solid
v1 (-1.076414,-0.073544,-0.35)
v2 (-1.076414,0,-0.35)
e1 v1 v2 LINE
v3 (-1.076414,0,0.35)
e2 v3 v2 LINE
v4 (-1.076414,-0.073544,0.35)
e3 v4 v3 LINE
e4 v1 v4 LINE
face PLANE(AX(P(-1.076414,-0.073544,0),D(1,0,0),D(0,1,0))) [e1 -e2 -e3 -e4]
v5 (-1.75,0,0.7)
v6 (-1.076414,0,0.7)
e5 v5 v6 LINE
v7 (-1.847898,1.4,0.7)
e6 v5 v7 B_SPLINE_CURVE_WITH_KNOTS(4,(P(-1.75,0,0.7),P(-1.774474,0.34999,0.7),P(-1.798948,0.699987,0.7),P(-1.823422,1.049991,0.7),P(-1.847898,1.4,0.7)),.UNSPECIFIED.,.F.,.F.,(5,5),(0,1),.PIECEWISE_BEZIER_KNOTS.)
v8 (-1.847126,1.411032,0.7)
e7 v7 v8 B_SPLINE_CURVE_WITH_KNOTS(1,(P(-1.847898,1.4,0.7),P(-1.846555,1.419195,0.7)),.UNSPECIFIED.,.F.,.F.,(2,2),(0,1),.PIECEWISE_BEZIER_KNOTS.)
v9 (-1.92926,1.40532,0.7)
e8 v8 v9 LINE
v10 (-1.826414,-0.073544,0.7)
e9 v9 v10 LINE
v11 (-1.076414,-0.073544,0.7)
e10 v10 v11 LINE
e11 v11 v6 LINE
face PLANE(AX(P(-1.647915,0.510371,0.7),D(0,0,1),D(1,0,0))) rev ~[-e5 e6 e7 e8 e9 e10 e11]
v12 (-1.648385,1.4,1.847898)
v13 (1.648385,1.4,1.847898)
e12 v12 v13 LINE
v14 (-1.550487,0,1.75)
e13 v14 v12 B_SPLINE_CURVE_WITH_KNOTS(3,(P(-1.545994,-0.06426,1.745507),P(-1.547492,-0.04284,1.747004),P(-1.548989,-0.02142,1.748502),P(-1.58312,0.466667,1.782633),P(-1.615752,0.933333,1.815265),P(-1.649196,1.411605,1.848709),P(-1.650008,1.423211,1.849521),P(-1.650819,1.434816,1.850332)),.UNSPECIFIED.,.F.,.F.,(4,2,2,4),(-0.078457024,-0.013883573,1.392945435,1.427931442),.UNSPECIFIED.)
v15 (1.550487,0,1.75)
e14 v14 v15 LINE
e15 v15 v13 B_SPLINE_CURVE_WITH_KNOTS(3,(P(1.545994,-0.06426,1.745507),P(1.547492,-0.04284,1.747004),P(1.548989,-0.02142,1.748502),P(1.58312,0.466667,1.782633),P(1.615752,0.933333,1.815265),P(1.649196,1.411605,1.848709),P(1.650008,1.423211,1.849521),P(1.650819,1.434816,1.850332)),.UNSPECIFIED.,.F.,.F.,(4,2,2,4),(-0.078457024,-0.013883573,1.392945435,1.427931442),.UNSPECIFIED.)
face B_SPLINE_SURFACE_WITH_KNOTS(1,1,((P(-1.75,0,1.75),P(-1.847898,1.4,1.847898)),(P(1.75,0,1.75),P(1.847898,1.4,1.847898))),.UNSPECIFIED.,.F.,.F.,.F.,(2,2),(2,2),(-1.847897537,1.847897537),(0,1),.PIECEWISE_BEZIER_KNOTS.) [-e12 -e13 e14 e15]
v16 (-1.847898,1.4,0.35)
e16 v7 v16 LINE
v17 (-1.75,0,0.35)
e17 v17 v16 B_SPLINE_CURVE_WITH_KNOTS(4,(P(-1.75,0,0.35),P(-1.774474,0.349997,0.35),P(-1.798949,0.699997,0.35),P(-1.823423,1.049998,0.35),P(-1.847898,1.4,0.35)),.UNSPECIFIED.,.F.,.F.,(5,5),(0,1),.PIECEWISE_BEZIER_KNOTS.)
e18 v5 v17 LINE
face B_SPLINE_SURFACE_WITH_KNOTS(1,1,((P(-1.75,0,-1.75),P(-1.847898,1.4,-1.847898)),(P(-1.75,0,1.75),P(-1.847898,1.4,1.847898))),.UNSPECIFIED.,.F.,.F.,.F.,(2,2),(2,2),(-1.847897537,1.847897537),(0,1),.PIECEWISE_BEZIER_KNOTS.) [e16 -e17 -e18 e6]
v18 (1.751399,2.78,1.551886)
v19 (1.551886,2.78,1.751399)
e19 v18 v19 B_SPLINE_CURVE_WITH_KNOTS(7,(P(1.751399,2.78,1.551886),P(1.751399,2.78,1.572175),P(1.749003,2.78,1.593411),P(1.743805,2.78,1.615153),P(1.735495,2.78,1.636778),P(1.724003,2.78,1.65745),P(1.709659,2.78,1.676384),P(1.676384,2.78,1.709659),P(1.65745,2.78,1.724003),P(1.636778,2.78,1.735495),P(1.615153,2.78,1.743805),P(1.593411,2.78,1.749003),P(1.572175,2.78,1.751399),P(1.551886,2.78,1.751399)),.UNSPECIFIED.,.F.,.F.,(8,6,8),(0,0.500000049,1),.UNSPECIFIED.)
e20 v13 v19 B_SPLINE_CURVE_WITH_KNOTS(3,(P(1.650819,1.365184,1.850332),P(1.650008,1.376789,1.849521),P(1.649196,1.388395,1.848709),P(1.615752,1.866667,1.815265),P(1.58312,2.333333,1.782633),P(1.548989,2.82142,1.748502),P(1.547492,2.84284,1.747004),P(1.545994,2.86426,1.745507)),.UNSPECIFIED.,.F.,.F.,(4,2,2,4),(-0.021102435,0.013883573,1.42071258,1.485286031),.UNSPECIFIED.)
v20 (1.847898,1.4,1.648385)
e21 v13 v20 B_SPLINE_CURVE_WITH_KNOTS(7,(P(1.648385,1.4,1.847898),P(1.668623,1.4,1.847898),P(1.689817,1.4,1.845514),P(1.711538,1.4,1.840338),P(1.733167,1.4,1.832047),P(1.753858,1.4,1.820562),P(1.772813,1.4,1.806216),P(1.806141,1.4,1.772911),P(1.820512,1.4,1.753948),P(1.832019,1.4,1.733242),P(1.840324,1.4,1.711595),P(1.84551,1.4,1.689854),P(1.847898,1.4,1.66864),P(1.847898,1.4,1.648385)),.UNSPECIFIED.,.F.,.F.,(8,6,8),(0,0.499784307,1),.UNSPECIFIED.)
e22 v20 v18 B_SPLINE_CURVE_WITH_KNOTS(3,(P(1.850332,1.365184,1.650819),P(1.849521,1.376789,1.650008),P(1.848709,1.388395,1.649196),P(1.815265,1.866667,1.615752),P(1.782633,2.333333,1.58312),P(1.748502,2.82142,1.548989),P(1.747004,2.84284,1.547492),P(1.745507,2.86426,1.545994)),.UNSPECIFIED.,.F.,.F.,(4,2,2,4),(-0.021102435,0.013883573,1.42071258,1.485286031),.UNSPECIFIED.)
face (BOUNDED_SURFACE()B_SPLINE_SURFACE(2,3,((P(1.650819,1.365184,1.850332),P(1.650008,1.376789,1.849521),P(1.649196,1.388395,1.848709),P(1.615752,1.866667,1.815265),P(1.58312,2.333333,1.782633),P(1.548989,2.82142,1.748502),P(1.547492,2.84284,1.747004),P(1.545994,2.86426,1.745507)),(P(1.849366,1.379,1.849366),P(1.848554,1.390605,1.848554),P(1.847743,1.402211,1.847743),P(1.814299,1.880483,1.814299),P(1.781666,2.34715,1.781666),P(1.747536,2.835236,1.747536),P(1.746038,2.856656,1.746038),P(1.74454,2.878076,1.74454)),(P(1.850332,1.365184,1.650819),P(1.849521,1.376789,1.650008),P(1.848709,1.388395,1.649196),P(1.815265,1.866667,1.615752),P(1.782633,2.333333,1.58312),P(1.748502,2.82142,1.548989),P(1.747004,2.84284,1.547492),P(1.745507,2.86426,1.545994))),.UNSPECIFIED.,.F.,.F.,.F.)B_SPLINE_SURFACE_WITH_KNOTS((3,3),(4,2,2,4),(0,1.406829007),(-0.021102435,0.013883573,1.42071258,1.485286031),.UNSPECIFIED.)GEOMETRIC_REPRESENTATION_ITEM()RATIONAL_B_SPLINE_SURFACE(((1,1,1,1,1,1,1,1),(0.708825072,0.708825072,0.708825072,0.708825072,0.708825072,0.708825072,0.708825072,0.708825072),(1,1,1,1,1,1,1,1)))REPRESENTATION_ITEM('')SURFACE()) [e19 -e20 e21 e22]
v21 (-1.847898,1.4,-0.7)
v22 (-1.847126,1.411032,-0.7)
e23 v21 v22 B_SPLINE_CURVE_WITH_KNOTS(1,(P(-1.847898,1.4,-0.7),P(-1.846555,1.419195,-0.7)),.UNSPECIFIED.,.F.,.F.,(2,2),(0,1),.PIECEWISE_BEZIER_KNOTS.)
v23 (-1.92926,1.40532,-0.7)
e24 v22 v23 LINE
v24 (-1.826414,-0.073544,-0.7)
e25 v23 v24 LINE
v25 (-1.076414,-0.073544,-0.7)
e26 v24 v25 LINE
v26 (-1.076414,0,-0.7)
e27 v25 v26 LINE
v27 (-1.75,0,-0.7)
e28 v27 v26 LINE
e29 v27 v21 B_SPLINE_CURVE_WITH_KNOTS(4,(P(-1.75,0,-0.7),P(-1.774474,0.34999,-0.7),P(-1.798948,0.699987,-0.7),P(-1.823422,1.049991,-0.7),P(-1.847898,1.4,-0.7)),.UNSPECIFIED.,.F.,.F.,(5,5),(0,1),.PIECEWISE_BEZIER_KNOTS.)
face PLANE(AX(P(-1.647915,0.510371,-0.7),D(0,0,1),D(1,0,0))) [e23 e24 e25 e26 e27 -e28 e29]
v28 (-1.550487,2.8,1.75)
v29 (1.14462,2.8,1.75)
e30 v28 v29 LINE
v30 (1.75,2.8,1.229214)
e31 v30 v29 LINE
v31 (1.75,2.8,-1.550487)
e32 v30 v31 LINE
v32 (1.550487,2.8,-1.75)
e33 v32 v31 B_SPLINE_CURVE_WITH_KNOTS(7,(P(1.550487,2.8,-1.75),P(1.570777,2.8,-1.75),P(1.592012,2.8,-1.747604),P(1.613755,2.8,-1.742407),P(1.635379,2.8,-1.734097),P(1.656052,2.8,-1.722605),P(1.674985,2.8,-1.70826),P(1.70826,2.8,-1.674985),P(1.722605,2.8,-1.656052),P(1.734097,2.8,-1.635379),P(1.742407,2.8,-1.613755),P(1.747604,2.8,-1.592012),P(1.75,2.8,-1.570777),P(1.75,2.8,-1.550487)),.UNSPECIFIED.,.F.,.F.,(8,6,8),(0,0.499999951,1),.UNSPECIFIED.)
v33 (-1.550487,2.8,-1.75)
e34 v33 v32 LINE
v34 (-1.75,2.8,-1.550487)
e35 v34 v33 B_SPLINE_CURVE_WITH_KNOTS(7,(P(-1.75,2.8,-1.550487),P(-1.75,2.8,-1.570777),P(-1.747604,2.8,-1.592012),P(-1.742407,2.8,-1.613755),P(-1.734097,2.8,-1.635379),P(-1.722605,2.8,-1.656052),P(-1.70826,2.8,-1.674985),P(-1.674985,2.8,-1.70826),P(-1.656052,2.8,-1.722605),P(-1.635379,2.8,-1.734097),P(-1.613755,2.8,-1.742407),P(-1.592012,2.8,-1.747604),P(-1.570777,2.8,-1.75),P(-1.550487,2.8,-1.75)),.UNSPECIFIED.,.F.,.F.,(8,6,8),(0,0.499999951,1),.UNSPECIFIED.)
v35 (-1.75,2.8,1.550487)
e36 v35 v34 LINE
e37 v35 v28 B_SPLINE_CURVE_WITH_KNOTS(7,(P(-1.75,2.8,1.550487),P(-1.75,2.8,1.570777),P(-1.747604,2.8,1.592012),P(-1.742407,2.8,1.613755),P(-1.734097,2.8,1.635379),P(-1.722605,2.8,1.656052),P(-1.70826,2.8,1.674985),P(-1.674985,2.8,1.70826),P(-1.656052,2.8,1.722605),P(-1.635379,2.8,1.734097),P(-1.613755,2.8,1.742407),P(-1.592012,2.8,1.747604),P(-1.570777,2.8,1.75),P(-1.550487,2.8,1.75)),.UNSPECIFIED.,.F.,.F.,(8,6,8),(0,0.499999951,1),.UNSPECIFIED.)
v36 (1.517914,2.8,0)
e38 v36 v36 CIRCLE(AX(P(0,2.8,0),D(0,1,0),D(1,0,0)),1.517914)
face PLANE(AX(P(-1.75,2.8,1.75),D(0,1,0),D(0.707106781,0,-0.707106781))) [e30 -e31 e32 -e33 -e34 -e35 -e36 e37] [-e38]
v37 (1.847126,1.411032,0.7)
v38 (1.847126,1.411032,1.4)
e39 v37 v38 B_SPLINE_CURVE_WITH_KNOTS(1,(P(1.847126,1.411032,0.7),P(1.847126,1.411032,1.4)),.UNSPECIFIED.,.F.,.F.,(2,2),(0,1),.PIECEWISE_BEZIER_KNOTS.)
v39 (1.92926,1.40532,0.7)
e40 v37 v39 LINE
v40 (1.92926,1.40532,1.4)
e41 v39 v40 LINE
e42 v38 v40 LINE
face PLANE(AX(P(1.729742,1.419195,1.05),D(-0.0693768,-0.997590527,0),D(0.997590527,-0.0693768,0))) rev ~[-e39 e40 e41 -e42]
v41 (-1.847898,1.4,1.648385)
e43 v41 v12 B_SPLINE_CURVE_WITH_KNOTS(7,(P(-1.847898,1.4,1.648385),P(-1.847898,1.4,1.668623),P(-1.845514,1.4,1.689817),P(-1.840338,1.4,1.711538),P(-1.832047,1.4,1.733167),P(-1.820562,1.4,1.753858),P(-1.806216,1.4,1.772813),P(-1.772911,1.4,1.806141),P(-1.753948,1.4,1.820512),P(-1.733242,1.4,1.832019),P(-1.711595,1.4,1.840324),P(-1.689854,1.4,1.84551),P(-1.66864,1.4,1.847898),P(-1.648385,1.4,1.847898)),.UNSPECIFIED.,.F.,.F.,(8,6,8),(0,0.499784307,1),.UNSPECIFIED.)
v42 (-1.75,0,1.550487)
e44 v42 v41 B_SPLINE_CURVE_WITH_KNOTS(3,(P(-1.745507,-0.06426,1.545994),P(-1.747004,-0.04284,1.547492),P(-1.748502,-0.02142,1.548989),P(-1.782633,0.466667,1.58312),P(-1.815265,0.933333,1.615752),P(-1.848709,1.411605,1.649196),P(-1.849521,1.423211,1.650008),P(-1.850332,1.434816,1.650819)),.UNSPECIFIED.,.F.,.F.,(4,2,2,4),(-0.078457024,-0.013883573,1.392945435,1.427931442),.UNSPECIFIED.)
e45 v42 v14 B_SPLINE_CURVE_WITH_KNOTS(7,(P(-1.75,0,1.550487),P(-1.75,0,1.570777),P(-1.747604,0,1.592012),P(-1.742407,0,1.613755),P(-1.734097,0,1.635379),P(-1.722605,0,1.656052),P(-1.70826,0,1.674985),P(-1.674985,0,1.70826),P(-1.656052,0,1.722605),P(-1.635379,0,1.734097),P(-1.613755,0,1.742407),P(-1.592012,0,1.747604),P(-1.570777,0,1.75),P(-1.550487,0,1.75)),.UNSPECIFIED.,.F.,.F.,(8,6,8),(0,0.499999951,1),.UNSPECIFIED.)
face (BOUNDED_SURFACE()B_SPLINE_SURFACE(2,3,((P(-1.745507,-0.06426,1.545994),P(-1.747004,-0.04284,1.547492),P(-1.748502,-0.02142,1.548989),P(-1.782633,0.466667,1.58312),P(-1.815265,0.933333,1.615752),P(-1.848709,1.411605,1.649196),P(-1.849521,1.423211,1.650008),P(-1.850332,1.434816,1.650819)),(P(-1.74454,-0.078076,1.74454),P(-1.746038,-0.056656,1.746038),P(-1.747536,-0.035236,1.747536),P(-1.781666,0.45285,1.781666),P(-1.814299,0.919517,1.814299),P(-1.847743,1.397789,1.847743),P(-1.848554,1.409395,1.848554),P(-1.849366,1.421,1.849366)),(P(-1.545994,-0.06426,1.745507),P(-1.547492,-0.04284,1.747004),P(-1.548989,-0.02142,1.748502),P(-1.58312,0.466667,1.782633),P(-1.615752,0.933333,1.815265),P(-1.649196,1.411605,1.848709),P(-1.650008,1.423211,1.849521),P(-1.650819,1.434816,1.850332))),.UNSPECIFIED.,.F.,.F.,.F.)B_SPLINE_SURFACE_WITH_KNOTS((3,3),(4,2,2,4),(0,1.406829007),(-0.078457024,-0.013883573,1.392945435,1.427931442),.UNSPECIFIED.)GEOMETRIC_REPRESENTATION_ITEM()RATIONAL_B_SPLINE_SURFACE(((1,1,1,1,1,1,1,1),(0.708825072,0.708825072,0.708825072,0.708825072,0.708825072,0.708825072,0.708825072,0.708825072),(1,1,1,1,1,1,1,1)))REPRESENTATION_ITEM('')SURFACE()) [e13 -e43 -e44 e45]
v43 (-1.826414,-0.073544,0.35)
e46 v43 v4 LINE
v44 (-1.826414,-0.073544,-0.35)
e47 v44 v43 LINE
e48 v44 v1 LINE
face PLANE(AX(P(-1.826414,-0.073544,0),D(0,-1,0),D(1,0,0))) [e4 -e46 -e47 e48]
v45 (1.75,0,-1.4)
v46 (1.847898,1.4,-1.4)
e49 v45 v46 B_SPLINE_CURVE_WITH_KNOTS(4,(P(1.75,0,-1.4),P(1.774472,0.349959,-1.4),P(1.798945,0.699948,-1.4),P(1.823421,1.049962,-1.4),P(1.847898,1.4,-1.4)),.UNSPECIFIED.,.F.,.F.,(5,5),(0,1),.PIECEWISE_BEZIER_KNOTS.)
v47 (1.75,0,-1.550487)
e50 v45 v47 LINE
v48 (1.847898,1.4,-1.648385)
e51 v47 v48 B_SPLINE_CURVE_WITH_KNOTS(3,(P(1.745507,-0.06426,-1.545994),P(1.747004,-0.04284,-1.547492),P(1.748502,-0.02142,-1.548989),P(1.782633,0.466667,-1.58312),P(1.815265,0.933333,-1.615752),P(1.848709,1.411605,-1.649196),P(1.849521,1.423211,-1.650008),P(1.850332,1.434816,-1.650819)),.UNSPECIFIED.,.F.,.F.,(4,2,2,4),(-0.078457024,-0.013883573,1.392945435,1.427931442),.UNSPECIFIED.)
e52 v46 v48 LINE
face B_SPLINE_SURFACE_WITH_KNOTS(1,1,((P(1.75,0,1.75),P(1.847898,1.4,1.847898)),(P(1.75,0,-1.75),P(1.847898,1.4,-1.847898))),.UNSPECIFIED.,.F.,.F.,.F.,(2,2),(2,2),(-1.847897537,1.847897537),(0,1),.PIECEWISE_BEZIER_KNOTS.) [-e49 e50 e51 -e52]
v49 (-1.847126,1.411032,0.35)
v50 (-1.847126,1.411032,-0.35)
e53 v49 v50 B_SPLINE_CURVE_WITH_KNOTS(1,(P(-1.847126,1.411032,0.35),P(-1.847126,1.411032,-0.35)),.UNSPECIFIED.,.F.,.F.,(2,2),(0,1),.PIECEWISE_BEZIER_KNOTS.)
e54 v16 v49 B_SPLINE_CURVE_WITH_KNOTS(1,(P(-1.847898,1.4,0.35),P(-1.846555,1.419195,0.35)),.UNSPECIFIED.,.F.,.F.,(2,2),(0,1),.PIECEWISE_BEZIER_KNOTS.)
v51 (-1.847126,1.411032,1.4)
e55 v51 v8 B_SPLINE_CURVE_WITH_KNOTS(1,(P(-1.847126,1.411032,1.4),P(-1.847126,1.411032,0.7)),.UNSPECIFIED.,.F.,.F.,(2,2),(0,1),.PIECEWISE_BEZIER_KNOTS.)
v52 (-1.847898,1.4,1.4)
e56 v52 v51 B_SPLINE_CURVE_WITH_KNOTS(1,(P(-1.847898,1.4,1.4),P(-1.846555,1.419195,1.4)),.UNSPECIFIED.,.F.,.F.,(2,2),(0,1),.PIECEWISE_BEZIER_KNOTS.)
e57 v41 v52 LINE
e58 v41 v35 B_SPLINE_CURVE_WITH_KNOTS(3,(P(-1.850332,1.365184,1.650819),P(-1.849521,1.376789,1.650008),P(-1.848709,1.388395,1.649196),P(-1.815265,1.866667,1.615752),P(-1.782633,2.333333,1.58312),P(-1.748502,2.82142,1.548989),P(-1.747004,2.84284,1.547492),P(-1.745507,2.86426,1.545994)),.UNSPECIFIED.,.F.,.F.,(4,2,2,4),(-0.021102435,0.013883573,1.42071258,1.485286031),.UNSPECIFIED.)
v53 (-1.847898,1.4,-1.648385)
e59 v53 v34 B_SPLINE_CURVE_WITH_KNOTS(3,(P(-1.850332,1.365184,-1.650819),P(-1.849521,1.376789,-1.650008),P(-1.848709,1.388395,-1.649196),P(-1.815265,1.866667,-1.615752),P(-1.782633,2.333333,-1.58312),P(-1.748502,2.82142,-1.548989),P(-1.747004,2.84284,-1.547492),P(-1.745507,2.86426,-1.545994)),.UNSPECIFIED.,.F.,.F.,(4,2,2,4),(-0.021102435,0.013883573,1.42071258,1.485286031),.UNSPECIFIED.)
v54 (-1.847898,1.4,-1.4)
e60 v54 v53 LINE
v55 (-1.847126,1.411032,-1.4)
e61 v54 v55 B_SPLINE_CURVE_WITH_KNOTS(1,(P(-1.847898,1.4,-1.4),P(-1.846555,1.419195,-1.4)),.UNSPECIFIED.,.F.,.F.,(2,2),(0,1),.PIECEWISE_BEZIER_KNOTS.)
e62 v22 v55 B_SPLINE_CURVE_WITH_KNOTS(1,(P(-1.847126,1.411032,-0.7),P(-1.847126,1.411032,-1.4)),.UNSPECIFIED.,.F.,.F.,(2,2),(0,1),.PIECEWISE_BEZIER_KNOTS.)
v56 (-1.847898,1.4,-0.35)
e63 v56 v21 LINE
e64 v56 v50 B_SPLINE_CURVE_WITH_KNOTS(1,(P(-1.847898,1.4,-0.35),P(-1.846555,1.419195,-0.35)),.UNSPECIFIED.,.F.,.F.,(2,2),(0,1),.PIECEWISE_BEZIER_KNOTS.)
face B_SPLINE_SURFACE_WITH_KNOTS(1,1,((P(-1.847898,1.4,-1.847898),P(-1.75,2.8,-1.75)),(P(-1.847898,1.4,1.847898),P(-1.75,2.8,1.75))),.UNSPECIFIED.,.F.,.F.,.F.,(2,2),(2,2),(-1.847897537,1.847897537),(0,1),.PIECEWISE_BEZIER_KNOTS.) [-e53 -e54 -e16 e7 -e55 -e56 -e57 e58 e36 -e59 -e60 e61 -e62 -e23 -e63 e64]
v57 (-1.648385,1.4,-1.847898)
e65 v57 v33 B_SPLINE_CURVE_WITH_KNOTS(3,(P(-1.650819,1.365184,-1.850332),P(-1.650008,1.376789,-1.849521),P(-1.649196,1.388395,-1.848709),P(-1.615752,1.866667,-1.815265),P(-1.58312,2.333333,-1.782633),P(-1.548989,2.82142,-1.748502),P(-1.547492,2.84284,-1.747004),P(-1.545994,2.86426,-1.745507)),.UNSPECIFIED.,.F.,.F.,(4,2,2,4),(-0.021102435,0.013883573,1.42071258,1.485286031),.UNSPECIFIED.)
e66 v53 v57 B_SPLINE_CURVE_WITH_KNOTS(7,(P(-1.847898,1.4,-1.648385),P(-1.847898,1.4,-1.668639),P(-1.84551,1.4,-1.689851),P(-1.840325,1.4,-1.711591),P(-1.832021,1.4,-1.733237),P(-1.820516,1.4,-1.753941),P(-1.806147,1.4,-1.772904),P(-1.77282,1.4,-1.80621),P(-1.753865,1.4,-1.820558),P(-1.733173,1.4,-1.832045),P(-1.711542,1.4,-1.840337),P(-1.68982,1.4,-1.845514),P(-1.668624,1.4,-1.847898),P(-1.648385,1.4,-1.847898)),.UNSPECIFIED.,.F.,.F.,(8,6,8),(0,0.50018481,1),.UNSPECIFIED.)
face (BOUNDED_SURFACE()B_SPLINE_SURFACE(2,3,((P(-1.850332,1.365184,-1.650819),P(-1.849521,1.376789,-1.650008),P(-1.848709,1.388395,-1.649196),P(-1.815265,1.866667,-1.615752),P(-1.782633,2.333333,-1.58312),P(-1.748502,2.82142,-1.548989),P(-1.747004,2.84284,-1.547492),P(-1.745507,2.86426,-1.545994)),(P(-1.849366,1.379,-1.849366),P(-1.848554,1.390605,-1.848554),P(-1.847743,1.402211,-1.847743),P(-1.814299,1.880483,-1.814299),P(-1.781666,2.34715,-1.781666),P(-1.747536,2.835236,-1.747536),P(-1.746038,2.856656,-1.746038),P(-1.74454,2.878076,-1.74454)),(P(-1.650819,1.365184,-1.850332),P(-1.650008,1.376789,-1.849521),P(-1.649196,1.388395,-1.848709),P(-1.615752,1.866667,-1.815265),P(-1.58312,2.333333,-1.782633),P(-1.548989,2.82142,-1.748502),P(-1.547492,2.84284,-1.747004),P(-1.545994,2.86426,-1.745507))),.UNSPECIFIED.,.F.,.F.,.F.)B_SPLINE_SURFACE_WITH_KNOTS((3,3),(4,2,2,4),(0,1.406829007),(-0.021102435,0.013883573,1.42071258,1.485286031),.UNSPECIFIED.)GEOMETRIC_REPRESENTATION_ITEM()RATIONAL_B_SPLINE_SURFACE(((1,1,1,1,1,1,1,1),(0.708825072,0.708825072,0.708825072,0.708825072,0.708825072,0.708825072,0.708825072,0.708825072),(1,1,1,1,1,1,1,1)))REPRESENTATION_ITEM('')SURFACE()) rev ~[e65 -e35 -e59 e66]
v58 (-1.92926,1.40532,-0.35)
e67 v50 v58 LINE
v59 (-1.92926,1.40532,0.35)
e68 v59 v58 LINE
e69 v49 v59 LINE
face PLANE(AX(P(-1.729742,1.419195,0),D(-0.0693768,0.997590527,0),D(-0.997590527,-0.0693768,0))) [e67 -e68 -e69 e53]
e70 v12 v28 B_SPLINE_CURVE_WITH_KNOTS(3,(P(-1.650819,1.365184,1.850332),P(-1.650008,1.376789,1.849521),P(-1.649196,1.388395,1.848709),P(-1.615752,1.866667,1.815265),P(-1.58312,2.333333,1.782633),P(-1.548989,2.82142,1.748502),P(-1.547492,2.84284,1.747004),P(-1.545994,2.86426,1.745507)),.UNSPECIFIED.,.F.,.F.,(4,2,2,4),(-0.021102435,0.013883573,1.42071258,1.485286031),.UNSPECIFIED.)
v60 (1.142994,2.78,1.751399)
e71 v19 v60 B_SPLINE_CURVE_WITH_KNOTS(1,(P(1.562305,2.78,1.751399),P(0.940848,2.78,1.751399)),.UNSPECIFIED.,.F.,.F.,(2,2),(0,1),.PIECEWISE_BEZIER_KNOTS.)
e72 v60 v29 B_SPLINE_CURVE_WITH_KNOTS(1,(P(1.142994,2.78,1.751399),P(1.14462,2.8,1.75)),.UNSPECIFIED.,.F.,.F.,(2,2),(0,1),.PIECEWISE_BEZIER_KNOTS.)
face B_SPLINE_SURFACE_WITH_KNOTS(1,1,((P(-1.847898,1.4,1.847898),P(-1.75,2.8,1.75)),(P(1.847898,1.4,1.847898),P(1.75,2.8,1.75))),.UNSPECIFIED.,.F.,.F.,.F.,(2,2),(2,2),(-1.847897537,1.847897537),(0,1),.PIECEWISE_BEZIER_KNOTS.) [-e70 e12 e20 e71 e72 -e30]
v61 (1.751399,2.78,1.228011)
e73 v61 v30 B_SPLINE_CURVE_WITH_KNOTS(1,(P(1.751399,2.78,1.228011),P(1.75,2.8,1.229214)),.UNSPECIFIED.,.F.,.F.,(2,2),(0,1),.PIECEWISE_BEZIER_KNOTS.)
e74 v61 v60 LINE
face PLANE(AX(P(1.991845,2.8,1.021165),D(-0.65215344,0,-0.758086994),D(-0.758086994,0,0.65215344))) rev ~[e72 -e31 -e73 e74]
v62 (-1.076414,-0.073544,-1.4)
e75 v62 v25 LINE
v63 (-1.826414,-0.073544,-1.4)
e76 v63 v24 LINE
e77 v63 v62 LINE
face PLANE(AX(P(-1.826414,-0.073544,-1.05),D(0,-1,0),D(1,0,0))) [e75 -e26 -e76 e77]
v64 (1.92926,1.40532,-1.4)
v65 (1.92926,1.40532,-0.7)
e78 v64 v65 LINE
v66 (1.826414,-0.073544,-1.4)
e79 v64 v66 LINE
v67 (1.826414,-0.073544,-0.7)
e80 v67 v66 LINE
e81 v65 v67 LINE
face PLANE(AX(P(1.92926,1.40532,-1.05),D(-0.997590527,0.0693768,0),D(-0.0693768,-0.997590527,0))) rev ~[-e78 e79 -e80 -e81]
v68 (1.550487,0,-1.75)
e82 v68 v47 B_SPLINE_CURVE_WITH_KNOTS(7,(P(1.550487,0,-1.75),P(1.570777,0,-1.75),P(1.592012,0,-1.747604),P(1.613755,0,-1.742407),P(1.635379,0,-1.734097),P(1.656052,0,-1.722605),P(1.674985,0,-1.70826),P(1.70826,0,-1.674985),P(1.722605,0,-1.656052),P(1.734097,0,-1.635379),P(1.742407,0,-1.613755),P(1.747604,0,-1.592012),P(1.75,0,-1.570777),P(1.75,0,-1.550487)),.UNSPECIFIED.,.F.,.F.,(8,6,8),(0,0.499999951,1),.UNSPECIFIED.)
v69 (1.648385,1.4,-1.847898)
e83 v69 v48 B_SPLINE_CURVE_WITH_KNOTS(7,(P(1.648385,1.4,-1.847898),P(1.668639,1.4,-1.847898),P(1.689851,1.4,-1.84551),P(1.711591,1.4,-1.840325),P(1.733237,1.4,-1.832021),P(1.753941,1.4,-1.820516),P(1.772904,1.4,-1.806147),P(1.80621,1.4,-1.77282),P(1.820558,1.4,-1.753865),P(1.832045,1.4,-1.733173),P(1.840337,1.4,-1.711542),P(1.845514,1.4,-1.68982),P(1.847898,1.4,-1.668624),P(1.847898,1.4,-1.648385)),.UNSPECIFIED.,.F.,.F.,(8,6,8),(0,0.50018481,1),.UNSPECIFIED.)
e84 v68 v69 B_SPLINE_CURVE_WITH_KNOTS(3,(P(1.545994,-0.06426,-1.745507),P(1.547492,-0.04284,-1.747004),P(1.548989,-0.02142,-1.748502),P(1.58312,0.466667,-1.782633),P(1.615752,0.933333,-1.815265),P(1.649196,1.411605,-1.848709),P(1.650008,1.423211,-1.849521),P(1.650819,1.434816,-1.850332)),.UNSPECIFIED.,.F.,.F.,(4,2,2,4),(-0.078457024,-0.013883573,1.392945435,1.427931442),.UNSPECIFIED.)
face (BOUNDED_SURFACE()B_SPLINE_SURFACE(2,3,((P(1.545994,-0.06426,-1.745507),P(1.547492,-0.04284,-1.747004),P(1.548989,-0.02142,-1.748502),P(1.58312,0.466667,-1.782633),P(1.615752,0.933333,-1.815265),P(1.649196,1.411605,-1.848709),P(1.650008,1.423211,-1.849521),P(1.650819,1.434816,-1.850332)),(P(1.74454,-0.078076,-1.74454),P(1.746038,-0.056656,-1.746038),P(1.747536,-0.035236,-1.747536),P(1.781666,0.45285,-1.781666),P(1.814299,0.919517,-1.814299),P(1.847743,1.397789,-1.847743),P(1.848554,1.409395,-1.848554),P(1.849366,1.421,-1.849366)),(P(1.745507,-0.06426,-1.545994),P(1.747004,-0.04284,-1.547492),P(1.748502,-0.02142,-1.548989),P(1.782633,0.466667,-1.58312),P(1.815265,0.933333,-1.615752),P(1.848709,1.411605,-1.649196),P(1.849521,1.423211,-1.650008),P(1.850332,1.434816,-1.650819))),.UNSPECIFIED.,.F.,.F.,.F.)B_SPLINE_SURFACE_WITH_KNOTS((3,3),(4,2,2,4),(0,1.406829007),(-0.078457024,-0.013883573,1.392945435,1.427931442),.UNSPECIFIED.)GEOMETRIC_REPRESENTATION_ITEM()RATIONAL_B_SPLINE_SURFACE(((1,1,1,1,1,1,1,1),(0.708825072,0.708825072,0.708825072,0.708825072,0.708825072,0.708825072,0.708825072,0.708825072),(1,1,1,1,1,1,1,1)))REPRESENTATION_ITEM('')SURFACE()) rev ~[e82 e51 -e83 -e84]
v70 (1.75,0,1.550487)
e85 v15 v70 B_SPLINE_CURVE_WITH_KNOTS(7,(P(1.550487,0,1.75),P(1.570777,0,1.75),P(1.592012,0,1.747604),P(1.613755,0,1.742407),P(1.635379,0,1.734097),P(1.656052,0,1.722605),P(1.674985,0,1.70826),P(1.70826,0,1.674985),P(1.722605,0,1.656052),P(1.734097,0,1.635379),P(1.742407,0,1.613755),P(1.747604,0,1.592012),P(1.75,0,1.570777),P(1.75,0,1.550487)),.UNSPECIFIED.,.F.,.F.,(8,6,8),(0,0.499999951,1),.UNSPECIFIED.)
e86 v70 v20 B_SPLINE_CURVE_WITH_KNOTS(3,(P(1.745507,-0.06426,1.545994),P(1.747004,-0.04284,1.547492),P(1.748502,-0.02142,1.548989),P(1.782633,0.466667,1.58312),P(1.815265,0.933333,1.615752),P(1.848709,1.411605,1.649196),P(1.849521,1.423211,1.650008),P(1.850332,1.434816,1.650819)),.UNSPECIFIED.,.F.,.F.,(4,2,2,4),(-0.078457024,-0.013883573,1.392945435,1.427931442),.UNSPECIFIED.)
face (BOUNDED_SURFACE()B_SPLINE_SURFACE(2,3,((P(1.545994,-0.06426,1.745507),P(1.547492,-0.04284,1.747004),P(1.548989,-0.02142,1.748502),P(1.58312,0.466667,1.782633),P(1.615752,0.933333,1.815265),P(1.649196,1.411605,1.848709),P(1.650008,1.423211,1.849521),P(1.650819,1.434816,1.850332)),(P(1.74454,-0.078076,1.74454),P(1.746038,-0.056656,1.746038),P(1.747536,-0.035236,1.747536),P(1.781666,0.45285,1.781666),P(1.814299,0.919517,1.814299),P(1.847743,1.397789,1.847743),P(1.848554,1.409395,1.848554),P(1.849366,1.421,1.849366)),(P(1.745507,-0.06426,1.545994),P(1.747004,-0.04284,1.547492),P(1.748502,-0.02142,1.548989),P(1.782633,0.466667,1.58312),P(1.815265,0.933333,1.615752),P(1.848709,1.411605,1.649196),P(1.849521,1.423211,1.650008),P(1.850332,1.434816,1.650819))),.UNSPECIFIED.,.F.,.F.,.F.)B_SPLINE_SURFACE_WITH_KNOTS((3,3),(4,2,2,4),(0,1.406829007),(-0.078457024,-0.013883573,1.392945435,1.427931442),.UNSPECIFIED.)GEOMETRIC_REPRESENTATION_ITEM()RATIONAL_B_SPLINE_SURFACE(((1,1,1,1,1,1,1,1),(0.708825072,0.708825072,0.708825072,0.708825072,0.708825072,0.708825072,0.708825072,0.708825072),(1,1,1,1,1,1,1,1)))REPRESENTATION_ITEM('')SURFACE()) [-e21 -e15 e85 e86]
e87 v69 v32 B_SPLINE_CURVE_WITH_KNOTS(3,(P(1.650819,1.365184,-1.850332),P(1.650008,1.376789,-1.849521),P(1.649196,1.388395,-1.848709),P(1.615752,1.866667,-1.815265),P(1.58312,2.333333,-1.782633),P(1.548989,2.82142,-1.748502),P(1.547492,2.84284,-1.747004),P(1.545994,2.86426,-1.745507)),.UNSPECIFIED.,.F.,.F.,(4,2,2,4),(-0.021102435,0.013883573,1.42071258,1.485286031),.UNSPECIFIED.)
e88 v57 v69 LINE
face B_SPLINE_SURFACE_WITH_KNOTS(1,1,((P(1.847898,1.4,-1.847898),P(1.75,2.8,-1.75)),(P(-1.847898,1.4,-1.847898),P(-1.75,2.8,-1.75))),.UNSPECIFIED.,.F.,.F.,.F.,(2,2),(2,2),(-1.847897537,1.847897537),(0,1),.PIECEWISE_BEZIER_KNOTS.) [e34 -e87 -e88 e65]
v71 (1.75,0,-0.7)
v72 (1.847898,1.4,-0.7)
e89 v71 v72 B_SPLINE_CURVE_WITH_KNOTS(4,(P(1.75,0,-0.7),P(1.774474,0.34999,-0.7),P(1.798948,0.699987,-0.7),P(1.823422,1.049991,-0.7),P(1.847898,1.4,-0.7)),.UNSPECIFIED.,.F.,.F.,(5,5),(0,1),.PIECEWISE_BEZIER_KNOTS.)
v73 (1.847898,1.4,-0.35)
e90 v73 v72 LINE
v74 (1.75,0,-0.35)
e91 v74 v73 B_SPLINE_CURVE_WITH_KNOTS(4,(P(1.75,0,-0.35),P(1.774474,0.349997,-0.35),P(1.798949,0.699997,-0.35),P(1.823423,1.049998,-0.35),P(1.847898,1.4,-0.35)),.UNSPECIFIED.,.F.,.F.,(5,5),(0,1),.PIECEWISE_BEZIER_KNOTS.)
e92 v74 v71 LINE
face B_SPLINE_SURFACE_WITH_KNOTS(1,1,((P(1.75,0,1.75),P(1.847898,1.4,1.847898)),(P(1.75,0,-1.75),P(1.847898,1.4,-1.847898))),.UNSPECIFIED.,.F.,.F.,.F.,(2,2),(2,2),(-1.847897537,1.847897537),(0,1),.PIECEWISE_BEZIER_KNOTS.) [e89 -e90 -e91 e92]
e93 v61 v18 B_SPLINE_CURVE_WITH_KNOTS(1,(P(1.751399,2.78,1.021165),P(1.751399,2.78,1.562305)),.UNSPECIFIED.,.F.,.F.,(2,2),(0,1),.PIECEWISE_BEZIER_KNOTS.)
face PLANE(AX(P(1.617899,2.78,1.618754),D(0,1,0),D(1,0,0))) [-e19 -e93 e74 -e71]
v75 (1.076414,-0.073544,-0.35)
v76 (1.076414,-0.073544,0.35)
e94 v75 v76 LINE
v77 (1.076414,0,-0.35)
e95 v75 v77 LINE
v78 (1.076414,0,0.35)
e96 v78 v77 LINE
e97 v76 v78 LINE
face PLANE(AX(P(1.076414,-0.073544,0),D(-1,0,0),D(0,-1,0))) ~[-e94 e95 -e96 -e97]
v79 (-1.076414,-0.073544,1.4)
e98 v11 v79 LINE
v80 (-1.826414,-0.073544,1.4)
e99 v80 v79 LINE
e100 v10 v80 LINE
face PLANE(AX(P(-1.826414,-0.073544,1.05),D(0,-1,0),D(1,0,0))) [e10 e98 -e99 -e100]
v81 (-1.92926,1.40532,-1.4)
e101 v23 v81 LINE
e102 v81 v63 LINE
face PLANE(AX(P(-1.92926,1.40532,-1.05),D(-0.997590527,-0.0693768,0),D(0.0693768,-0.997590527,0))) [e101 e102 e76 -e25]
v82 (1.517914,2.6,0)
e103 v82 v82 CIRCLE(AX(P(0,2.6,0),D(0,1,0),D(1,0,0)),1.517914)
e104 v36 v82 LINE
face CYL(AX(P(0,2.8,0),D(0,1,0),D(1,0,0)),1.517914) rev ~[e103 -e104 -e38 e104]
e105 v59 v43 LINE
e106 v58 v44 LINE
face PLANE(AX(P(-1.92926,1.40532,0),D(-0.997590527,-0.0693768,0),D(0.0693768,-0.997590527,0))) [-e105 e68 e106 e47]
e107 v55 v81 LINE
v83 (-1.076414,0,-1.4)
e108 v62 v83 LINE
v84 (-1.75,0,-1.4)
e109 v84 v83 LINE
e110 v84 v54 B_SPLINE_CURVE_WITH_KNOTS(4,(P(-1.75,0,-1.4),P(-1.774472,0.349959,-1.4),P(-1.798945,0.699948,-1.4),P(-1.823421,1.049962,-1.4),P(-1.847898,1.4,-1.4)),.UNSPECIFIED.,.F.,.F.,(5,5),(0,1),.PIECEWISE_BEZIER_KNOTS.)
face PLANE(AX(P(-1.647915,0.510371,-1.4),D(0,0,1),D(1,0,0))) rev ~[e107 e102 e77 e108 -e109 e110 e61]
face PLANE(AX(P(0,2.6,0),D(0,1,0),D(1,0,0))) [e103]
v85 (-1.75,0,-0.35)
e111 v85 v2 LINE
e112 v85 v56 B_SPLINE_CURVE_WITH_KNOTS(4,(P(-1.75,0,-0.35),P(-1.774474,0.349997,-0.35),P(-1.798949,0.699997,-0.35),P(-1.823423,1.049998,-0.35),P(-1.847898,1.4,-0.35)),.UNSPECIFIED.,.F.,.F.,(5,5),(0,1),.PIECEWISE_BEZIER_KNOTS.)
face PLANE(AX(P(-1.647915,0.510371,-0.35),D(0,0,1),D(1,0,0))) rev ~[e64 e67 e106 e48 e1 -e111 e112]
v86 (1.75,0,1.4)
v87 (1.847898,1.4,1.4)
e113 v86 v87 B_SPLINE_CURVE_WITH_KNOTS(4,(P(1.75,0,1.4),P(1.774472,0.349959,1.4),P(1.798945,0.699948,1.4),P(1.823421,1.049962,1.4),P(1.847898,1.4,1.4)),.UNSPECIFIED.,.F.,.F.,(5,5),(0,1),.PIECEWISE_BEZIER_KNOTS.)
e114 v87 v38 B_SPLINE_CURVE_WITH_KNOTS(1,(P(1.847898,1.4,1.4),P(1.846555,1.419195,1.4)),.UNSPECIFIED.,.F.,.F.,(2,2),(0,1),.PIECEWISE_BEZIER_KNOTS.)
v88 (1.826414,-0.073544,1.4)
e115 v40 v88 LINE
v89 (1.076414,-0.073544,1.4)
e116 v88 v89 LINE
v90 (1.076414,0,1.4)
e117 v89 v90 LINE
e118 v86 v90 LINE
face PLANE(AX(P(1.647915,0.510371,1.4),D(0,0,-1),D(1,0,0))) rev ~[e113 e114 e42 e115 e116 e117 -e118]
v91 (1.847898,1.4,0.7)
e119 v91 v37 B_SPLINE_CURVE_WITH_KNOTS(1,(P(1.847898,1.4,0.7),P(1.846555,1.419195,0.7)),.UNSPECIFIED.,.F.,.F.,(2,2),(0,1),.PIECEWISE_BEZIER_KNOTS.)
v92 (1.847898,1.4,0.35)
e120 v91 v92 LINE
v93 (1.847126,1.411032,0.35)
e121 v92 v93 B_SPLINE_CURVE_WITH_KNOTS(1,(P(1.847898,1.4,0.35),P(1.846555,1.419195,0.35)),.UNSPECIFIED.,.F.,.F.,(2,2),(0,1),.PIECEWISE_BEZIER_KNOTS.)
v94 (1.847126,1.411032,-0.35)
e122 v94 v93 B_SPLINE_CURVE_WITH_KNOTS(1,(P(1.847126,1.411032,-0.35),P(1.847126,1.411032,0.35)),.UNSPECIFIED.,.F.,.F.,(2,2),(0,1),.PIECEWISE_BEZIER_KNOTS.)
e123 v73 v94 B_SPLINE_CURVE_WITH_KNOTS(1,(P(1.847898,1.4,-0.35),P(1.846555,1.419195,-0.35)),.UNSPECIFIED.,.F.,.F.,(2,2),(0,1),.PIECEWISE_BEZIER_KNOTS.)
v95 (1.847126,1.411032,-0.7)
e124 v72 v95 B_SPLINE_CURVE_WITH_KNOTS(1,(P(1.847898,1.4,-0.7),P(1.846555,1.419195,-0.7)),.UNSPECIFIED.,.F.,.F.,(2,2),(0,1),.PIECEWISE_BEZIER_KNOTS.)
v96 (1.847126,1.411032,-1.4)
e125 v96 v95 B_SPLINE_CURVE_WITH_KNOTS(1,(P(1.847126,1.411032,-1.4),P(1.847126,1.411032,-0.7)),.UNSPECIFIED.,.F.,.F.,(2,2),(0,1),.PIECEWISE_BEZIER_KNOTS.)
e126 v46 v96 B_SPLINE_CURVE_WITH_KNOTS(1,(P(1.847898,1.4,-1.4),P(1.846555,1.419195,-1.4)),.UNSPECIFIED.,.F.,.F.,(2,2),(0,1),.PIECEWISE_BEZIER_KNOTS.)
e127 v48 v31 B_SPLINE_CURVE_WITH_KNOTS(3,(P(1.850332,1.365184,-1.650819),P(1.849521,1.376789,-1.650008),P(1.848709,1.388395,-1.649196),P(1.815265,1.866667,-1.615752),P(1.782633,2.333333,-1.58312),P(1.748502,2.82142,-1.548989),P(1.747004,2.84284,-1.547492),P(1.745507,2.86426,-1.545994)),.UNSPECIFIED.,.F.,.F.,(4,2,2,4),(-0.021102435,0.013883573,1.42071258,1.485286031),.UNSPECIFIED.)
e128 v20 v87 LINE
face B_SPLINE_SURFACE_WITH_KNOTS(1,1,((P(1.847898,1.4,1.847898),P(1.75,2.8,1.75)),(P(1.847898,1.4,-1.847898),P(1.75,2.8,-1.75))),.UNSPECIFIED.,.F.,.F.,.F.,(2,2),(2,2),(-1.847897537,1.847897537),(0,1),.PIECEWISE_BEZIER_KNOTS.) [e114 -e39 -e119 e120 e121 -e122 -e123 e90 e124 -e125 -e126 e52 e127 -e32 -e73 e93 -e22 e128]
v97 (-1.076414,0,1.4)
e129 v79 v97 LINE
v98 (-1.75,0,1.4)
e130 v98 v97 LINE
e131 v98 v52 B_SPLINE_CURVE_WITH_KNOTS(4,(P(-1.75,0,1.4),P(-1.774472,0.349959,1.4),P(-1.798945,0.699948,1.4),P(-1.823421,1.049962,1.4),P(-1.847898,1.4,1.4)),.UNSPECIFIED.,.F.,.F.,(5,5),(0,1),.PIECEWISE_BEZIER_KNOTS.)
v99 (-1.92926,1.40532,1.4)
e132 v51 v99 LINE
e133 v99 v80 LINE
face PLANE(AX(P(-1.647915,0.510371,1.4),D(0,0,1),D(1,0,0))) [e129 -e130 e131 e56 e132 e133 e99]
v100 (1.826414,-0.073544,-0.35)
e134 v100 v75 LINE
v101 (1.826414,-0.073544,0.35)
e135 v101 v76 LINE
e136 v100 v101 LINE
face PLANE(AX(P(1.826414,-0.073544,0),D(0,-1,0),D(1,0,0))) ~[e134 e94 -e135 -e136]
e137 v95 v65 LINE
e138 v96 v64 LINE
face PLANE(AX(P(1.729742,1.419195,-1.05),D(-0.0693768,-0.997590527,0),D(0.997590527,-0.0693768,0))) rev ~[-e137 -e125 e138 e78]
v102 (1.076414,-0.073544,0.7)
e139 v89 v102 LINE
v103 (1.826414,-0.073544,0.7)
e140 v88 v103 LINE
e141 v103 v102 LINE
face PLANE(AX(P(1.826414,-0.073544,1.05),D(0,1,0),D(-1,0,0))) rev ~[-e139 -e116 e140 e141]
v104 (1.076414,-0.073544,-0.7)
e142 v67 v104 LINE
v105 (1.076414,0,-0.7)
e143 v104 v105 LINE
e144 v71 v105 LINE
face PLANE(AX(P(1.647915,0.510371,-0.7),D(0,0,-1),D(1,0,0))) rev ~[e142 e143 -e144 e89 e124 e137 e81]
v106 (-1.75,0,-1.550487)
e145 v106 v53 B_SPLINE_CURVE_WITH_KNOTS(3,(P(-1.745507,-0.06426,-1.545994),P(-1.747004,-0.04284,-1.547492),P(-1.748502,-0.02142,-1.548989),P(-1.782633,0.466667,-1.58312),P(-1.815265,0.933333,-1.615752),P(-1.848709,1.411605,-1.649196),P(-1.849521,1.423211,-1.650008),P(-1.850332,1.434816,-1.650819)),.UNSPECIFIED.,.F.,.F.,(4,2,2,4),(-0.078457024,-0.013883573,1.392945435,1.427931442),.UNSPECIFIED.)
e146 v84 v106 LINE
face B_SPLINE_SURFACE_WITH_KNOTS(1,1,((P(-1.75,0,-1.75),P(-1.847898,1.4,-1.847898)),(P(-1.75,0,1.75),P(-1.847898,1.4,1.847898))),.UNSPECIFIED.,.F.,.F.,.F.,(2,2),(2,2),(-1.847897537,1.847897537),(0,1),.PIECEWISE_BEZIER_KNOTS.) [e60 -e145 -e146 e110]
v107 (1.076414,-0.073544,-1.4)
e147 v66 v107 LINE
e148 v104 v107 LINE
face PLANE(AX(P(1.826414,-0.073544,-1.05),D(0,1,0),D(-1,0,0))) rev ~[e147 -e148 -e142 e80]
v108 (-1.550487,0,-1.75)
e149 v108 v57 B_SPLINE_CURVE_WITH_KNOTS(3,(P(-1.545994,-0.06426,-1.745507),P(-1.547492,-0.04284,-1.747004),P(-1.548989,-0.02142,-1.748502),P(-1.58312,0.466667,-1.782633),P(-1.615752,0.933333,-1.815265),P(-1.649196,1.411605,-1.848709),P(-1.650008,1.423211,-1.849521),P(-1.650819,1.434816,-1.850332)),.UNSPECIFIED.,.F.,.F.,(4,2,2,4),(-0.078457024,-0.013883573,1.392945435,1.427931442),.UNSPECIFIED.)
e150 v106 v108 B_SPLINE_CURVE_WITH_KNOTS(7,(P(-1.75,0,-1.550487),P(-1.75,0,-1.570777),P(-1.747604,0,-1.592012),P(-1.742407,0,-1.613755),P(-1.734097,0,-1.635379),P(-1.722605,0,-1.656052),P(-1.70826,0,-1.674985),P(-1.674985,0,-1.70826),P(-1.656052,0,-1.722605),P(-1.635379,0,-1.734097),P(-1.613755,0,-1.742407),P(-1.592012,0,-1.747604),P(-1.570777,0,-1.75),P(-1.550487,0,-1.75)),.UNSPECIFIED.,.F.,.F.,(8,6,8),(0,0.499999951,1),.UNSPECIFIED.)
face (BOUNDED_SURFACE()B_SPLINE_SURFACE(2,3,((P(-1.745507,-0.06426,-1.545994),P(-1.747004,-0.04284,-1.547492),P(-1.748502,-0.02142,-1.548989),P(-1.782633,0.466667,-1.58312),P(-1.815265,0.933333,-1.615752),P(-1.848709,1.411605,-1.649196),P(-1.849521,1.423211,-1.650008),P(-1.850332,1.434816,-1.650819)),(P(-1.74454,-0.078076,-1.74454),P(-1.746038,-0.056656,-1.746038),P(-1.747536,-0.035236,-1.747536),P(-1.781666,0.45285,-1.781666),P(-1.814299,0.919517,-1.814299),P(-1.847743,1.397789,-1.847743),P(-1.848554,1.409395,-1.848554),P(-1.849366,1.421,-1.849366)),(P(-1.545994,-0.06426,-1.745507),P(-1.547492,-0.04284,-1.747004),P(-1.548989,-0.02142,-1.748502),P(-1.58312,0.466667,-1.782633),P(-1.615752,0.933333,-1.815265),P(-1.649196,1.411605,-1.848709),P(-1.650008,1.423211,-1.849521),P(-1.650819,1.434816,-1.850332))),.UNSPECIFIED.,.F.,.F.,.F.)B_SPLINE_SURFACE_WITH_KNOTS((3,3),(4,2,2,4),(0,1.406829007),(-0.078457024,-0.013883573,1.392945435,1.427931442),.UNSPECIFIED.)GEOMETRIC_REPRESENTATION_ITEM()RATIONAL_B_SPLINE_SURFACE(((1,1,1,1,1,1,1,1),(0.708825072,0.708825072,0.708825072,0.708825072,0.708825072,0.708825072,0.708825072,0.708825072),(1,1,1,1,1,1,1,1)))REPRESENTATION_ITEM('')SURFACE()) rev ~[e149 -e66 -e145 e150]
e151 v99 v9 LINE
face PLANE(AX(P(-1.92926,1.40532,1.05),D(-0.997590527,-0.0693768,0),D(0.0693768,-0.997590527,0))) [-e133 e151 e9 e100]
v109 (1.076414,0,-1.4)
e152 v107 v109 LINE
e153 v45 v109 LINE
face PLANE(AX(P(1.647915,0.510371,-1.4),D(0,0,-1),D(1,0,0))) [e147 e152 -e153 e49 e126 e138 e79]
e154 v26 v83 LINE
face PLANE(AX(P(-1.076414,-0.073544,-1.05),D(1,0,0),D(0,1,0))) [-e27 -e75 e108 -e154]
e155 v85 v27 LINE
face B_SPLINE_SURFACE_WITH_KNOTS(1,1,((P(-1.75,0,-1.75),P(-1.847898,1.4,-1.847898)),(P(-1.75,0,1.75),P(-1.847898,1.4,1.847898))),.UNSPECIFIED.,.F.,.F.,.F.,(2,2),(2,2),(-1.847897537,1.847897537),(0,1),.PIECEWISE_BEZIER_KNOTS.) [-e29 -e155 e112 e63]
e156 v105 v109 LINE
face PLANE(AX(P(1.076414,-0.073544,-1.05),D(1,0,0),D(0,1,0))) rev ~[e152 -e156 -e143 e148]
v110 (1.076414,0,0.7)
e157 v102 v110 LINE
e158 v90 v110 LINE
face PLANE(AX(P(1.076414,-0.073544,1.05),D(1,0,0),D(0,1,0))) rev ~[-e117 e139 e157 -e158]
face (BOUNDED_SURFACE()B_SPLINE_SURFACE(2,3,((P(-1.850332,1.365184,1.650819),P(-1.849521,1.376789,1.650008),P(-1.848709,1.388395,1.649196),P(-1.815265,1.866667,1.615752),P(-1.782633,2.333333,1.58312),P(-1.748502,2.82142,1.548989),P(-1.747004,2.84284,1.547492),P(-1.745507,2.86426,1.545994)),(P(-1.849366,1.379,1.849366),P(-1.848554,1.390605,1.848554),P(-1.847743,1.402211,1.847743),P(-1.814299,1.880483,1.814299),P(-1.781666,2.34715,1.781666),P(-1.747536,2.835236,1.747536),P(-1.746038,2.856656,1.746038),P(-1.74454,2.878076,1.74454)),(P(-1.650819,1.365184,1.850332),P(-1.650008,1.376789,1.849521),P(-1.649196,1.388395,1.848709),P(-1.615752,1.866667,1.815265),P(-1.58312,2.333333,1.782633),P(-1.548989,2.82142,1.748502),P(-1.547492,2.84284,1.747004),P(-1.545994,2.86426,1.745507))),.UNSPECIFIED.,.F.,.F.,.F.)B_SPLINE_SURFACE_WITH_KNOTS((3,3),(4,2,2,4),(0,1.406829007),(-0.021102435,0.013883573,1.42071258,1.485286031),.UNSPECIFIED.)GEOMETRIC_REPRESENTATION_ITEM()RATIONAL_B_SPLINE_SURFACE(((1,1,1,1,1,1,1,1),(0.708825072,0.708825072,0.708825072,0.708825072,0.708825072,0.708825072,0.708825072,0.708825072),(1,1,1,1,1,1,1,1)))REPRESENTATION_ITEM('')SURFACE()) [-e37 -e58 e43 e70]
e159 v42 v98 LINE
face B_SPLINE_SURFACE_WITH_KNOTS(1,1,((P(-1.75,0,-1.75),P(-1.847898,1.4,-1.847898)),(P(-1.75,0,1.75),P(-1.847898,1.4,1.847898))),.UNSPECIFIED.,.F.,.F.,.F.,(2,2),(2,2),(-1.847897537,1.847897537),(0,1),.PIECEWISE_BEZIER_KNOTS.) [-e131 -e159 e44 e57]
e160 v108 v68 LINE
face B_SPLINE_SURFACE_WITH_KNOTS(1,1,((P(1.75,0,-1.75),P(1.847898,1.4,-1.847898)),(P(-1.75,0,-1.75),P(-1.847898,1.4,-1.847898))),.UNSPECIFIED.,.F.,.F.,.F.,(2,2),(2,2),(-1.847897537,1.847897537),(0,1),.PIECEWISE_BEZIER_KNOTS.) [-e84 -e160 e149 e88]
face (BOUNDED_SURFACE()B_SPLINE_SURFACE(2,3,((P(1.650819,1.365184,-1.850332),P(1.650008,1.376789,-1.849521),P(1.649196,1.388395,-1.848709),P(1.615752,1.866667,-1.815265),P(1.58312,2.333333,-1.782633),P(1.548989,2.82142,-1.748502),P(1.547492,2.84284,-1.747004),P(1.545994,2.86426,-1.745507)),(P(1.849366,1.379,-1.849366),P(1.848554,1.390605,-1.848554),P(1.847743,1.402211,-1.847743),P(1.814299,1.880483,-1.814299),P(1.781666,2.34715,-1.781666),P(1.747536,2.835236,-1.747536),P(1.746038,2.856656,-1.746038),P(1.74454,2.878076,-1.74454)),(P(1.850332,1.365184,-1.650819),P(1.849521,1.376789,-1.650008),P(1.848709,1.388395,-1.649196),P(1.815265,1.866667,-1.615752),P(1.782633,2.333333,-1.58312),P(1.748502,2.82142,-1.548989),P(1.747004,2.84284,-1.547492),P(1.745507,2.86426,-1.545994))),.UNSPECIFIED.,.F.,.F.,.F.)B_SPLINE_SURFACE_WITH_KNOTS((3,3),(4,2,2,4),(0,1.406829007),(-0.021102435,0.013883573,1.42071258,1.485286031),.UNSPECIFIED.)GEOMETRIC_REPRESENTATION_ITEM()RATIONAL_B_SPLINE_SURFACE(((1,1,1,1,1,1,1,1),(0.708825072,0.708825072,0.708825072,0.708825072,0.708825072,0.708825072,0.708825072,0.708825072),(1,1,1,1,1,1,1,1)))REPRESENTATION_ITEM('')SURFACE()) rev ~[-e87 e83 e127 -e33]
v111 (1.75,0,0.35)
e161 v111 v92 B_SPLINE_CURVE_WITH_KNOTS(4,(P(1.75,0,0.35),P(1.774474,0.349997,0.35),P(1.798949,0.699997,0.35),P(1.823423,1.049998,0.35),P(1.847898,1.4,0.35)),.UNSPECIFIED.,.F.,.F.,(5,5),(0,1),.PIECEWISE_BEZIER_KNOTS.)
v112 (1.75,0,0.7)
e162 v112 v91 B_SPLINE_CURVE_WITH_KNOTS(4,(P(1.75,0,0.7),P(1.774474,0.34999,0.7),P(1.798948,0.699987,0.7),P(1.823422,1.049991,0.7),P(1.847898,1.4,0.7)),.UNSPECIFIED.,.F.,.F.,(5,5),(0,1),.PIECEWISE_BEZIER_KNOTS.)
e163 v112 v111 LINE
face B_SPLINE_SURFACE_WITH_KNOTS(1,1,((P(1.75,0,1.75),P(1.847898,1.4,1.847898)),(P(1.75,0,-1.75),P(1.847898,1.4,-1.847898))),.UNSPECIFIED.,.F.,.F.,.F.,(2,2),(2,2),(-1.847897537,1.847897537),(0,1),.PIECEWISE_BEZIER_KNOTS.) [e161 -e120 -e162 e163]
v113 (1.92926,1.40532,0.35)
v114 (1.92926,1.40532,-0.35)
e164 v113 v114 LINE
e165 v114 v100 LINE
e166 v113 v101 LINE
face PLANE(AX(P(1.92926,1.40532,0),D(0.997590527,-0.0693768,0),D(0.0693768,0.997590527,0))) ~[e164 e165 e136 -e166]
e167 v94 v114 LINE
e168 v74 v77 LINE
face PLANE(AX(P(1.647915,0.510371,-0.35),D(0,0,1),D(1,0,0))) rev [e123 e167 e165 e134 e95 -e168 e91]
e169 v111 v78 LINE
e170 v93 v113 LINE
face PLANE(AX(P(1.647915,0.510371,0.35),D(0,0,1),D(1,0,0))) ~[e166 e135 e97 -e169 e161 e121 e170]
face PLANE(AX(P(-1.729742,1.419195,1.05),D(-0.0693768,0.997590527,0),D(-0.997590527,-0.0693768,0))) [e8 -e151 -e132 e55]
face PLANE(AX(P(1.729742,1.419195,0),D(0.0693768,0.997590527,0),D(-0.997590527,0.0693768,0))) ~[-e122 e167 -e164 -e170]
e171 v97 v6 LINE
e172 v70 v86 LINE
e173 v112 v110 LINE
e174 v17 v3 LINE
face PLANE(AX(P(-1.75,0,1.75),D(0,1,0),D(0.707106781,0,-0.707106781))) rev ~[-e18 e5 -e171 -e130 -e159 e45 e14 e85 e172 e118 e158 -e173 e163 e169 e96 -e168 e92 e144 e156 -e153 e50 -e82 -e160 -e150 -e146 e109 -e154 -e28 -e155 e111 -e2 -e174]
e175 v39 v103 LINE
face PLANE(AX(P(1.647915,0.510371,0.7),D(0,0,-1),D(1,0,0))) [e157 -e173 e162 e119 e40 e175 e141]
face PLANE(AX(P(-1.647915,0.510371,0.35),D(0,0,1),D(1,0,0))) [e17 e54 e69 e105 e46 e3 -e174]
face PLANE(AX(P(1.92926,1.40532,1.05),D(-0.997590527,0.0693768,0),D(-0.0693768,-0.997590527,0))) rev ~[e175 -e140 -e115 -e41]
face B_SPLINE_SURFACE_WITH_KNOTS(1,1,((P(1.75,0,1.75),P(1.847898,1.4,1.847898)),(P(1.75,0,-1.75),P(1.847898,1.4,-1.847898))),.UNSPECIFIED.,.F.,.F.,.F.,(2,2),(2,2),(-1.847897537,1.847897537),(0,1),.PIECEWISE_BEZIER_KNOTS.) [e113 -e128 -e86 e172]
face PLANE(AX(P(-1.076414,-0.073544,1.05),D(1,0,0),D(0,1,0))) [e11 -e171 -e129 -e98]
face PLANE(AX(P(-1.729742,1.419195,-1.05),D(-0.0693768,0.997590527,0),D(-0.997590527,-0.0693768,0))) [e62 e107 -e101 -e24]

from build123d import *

# Parameters (mm, degrees)
SKETCH1_W            = 3.5
SKETCH1_H            = 3.5
BOSS_EXTRUDE1_DEPTH  = 1.4
BOSS_EXTRUDE1_TAPER  = -4
SKETCH2_W            = 3.695795074
SKETCH2_H            = 3.695795074
BOSS_EXTRUDE2_DEPTH  = 1.4
BOSS_EXTRUDE2_TAPER  = 4
FILLET1_R            = 0.2
SKETCH3_R            = 1.517913715
CUT_EXTRUDE1_DEPTH   = 0.2
EXTRUDE_THIN1_DEPTH  = 0.35
LPATTERN1_COUNT      = 2
LPATTERN1_PITCH      = 1.05
LPATTERN2_COUNT      = 2
LPATTERN2_PITCH      = 1.05
MIRROR1_COPY_1_DEPTH = 0.35
MIRROR1_COPY_2_DEPTH = 0.35
CUT_EXTRUDE2_DEPTH   = 0.02


with BuildPart() as part:
    # Sketch1 → Boss-Extrude1 (new body)
    with BuildSketch(Plane(origin=(0, 0, 0), x_dir=(1, 0, 0), z_dir=(0, 1, 0))):
        Rectangle(SKETCH1_W, SKETCH1_H)
    extrude(amount=BOSS_EXTRUDE1_DEPTH, taper=BOSS_EXTRUDE1_TAPER)

    # Sketch2 → Boss-Extrude2 (add)
    with BuildSketch(Plane(origin=(0, 1.4, 0), x_dir=(1, 0, 0), z_dir=(0, 1, 0))):
        Rectangle(SKETCH2_W, SKETCH2_H)
    extrude(amount=BOSS_EXTRUDE2_DEPTH, taper=BOSS_EXTRUDE2_TAPER)

    # Fillet1
    fillet1_edges = [part.edges().sort_by_distance(p)[0] for p in [
        (-1.798948768, 2.1, 1.798948768),
        (1.798948768, 2.1, 1.798948768),
        (1.798948768, 2.1, -1.798948768),
        (-1.798948768, 2.1, -1.798948768),
        (1.798948768, 0.7, 1.798948768),
        (-1.798948768, 0.7, 1.798948768),
        (-1.798948768, 0.7, -1.798948768),
        (1.798948768, 0.7, -1.798948768),
    ]]
    fillet(fillet1_edges, radius=FILLET1_R)

    # Sketch3 → Cut-Extrude1 (cut)
    with BuildSketch(Plane(origin=(0, 2.8, 0), x_dir=(1, 0, 0), z_dir=(0, 1, 0))):
        Circle(SKETCH3_R)
    extrude(amount=-CUT_EXTRUDE1_DEPTH, mode=Mode.SUBTRACT)

    # Sketch4 → Extrude-Thin1 (add, symmetric)
    with BuildSketch(Plane.XY):
        Polygon((-1.929260437, 1.405319652), (-1.826413832, -0.073543587), (-1.076413832, -0.073543587), (-1.076413832, 0.126456413), (-1.639839647, 0.126456413), (-1.729742331, 1.419195012), align=None)
    extrude_thin1 = extrude(amount=EXTRUDE_THIN1_DEPTH, both=True)

    # LPattern1: Extrude-Thin1 ×2
    with Locations(*[(0, 0, i * LPATTERN1_PITCH) for i in range(1, LPATTERN1_COUNT)]):
        add(extrude_thin1)

    # LPattern2: Extrude-Thin1 ×2
    with Locations(*[(0, 0, -i * LPATTERN2_PITCH) for i in range(1, LPATTERN2_COUNT)]):
        add(extrude_thin1)

    # Mirror1: Extrude-Thin1 across plane
    add(extrude_thin1.mirror(Plane(origin=(0, 0, 0), x_dir=(0, 0, 1), z_dir=(1, 0, 0))))

    # Mirror1 copy 1 sketch → Mirror1 copy 1 (add, symmetric)
    with BuildSketch(Plane(origin=(0, 0, 1.05), x_dir=(-1, 0, 0), z_dir=(0, 0, 1))):
        Polygon((-1.929260437, -1.405319652), (-1.826413832, 0.073543587), (-1.076413832, 0.073543587), (-1.076413832, -0.126456413), (-1.639839647, -0.126456413), (-1.729742331, -1.419195012), align=None)
    extrude(amount=MIRROR1_COPY_1_DEPTH, both=True)

    # Mirror1 copy 2 sketch → Mirror1 copy 2 (add, symmetric)
    with BuildSketch(Plane(origin=(0, 0, -1.05), x_dir=(-1, 0, 0), z_dir=(0, 0, 1))):
        Polygon((-1.929260437, -1.405319652), (-1.826413832, 0.073543587), (-1.076413832, 0.073543587), (-1.076413832, -0.126456413), (-1.639839647, -0.126456413), (-1.729742331, -1.419195012), align=None)
    extrude(amount=MIRROR1_COPY_2_DEPTH, both=True)

    # Sketch5 → Cut-Extrude2 (cut)
    with BuildSketch(Plane(origin=(0, 2.8, 0), x_dir=(1, 0, 0), z_dir=(0, 1, 0))):
        Polygon((1.991844577, -1.021164559), (0.940848245, -1.925296774), (2.028560606, -1.925296774), align=None)
    extrude(amount=-CUT_EXTRUDE2_DEPTH, mode=Mode.SUBTRACT)


solid = part.part
